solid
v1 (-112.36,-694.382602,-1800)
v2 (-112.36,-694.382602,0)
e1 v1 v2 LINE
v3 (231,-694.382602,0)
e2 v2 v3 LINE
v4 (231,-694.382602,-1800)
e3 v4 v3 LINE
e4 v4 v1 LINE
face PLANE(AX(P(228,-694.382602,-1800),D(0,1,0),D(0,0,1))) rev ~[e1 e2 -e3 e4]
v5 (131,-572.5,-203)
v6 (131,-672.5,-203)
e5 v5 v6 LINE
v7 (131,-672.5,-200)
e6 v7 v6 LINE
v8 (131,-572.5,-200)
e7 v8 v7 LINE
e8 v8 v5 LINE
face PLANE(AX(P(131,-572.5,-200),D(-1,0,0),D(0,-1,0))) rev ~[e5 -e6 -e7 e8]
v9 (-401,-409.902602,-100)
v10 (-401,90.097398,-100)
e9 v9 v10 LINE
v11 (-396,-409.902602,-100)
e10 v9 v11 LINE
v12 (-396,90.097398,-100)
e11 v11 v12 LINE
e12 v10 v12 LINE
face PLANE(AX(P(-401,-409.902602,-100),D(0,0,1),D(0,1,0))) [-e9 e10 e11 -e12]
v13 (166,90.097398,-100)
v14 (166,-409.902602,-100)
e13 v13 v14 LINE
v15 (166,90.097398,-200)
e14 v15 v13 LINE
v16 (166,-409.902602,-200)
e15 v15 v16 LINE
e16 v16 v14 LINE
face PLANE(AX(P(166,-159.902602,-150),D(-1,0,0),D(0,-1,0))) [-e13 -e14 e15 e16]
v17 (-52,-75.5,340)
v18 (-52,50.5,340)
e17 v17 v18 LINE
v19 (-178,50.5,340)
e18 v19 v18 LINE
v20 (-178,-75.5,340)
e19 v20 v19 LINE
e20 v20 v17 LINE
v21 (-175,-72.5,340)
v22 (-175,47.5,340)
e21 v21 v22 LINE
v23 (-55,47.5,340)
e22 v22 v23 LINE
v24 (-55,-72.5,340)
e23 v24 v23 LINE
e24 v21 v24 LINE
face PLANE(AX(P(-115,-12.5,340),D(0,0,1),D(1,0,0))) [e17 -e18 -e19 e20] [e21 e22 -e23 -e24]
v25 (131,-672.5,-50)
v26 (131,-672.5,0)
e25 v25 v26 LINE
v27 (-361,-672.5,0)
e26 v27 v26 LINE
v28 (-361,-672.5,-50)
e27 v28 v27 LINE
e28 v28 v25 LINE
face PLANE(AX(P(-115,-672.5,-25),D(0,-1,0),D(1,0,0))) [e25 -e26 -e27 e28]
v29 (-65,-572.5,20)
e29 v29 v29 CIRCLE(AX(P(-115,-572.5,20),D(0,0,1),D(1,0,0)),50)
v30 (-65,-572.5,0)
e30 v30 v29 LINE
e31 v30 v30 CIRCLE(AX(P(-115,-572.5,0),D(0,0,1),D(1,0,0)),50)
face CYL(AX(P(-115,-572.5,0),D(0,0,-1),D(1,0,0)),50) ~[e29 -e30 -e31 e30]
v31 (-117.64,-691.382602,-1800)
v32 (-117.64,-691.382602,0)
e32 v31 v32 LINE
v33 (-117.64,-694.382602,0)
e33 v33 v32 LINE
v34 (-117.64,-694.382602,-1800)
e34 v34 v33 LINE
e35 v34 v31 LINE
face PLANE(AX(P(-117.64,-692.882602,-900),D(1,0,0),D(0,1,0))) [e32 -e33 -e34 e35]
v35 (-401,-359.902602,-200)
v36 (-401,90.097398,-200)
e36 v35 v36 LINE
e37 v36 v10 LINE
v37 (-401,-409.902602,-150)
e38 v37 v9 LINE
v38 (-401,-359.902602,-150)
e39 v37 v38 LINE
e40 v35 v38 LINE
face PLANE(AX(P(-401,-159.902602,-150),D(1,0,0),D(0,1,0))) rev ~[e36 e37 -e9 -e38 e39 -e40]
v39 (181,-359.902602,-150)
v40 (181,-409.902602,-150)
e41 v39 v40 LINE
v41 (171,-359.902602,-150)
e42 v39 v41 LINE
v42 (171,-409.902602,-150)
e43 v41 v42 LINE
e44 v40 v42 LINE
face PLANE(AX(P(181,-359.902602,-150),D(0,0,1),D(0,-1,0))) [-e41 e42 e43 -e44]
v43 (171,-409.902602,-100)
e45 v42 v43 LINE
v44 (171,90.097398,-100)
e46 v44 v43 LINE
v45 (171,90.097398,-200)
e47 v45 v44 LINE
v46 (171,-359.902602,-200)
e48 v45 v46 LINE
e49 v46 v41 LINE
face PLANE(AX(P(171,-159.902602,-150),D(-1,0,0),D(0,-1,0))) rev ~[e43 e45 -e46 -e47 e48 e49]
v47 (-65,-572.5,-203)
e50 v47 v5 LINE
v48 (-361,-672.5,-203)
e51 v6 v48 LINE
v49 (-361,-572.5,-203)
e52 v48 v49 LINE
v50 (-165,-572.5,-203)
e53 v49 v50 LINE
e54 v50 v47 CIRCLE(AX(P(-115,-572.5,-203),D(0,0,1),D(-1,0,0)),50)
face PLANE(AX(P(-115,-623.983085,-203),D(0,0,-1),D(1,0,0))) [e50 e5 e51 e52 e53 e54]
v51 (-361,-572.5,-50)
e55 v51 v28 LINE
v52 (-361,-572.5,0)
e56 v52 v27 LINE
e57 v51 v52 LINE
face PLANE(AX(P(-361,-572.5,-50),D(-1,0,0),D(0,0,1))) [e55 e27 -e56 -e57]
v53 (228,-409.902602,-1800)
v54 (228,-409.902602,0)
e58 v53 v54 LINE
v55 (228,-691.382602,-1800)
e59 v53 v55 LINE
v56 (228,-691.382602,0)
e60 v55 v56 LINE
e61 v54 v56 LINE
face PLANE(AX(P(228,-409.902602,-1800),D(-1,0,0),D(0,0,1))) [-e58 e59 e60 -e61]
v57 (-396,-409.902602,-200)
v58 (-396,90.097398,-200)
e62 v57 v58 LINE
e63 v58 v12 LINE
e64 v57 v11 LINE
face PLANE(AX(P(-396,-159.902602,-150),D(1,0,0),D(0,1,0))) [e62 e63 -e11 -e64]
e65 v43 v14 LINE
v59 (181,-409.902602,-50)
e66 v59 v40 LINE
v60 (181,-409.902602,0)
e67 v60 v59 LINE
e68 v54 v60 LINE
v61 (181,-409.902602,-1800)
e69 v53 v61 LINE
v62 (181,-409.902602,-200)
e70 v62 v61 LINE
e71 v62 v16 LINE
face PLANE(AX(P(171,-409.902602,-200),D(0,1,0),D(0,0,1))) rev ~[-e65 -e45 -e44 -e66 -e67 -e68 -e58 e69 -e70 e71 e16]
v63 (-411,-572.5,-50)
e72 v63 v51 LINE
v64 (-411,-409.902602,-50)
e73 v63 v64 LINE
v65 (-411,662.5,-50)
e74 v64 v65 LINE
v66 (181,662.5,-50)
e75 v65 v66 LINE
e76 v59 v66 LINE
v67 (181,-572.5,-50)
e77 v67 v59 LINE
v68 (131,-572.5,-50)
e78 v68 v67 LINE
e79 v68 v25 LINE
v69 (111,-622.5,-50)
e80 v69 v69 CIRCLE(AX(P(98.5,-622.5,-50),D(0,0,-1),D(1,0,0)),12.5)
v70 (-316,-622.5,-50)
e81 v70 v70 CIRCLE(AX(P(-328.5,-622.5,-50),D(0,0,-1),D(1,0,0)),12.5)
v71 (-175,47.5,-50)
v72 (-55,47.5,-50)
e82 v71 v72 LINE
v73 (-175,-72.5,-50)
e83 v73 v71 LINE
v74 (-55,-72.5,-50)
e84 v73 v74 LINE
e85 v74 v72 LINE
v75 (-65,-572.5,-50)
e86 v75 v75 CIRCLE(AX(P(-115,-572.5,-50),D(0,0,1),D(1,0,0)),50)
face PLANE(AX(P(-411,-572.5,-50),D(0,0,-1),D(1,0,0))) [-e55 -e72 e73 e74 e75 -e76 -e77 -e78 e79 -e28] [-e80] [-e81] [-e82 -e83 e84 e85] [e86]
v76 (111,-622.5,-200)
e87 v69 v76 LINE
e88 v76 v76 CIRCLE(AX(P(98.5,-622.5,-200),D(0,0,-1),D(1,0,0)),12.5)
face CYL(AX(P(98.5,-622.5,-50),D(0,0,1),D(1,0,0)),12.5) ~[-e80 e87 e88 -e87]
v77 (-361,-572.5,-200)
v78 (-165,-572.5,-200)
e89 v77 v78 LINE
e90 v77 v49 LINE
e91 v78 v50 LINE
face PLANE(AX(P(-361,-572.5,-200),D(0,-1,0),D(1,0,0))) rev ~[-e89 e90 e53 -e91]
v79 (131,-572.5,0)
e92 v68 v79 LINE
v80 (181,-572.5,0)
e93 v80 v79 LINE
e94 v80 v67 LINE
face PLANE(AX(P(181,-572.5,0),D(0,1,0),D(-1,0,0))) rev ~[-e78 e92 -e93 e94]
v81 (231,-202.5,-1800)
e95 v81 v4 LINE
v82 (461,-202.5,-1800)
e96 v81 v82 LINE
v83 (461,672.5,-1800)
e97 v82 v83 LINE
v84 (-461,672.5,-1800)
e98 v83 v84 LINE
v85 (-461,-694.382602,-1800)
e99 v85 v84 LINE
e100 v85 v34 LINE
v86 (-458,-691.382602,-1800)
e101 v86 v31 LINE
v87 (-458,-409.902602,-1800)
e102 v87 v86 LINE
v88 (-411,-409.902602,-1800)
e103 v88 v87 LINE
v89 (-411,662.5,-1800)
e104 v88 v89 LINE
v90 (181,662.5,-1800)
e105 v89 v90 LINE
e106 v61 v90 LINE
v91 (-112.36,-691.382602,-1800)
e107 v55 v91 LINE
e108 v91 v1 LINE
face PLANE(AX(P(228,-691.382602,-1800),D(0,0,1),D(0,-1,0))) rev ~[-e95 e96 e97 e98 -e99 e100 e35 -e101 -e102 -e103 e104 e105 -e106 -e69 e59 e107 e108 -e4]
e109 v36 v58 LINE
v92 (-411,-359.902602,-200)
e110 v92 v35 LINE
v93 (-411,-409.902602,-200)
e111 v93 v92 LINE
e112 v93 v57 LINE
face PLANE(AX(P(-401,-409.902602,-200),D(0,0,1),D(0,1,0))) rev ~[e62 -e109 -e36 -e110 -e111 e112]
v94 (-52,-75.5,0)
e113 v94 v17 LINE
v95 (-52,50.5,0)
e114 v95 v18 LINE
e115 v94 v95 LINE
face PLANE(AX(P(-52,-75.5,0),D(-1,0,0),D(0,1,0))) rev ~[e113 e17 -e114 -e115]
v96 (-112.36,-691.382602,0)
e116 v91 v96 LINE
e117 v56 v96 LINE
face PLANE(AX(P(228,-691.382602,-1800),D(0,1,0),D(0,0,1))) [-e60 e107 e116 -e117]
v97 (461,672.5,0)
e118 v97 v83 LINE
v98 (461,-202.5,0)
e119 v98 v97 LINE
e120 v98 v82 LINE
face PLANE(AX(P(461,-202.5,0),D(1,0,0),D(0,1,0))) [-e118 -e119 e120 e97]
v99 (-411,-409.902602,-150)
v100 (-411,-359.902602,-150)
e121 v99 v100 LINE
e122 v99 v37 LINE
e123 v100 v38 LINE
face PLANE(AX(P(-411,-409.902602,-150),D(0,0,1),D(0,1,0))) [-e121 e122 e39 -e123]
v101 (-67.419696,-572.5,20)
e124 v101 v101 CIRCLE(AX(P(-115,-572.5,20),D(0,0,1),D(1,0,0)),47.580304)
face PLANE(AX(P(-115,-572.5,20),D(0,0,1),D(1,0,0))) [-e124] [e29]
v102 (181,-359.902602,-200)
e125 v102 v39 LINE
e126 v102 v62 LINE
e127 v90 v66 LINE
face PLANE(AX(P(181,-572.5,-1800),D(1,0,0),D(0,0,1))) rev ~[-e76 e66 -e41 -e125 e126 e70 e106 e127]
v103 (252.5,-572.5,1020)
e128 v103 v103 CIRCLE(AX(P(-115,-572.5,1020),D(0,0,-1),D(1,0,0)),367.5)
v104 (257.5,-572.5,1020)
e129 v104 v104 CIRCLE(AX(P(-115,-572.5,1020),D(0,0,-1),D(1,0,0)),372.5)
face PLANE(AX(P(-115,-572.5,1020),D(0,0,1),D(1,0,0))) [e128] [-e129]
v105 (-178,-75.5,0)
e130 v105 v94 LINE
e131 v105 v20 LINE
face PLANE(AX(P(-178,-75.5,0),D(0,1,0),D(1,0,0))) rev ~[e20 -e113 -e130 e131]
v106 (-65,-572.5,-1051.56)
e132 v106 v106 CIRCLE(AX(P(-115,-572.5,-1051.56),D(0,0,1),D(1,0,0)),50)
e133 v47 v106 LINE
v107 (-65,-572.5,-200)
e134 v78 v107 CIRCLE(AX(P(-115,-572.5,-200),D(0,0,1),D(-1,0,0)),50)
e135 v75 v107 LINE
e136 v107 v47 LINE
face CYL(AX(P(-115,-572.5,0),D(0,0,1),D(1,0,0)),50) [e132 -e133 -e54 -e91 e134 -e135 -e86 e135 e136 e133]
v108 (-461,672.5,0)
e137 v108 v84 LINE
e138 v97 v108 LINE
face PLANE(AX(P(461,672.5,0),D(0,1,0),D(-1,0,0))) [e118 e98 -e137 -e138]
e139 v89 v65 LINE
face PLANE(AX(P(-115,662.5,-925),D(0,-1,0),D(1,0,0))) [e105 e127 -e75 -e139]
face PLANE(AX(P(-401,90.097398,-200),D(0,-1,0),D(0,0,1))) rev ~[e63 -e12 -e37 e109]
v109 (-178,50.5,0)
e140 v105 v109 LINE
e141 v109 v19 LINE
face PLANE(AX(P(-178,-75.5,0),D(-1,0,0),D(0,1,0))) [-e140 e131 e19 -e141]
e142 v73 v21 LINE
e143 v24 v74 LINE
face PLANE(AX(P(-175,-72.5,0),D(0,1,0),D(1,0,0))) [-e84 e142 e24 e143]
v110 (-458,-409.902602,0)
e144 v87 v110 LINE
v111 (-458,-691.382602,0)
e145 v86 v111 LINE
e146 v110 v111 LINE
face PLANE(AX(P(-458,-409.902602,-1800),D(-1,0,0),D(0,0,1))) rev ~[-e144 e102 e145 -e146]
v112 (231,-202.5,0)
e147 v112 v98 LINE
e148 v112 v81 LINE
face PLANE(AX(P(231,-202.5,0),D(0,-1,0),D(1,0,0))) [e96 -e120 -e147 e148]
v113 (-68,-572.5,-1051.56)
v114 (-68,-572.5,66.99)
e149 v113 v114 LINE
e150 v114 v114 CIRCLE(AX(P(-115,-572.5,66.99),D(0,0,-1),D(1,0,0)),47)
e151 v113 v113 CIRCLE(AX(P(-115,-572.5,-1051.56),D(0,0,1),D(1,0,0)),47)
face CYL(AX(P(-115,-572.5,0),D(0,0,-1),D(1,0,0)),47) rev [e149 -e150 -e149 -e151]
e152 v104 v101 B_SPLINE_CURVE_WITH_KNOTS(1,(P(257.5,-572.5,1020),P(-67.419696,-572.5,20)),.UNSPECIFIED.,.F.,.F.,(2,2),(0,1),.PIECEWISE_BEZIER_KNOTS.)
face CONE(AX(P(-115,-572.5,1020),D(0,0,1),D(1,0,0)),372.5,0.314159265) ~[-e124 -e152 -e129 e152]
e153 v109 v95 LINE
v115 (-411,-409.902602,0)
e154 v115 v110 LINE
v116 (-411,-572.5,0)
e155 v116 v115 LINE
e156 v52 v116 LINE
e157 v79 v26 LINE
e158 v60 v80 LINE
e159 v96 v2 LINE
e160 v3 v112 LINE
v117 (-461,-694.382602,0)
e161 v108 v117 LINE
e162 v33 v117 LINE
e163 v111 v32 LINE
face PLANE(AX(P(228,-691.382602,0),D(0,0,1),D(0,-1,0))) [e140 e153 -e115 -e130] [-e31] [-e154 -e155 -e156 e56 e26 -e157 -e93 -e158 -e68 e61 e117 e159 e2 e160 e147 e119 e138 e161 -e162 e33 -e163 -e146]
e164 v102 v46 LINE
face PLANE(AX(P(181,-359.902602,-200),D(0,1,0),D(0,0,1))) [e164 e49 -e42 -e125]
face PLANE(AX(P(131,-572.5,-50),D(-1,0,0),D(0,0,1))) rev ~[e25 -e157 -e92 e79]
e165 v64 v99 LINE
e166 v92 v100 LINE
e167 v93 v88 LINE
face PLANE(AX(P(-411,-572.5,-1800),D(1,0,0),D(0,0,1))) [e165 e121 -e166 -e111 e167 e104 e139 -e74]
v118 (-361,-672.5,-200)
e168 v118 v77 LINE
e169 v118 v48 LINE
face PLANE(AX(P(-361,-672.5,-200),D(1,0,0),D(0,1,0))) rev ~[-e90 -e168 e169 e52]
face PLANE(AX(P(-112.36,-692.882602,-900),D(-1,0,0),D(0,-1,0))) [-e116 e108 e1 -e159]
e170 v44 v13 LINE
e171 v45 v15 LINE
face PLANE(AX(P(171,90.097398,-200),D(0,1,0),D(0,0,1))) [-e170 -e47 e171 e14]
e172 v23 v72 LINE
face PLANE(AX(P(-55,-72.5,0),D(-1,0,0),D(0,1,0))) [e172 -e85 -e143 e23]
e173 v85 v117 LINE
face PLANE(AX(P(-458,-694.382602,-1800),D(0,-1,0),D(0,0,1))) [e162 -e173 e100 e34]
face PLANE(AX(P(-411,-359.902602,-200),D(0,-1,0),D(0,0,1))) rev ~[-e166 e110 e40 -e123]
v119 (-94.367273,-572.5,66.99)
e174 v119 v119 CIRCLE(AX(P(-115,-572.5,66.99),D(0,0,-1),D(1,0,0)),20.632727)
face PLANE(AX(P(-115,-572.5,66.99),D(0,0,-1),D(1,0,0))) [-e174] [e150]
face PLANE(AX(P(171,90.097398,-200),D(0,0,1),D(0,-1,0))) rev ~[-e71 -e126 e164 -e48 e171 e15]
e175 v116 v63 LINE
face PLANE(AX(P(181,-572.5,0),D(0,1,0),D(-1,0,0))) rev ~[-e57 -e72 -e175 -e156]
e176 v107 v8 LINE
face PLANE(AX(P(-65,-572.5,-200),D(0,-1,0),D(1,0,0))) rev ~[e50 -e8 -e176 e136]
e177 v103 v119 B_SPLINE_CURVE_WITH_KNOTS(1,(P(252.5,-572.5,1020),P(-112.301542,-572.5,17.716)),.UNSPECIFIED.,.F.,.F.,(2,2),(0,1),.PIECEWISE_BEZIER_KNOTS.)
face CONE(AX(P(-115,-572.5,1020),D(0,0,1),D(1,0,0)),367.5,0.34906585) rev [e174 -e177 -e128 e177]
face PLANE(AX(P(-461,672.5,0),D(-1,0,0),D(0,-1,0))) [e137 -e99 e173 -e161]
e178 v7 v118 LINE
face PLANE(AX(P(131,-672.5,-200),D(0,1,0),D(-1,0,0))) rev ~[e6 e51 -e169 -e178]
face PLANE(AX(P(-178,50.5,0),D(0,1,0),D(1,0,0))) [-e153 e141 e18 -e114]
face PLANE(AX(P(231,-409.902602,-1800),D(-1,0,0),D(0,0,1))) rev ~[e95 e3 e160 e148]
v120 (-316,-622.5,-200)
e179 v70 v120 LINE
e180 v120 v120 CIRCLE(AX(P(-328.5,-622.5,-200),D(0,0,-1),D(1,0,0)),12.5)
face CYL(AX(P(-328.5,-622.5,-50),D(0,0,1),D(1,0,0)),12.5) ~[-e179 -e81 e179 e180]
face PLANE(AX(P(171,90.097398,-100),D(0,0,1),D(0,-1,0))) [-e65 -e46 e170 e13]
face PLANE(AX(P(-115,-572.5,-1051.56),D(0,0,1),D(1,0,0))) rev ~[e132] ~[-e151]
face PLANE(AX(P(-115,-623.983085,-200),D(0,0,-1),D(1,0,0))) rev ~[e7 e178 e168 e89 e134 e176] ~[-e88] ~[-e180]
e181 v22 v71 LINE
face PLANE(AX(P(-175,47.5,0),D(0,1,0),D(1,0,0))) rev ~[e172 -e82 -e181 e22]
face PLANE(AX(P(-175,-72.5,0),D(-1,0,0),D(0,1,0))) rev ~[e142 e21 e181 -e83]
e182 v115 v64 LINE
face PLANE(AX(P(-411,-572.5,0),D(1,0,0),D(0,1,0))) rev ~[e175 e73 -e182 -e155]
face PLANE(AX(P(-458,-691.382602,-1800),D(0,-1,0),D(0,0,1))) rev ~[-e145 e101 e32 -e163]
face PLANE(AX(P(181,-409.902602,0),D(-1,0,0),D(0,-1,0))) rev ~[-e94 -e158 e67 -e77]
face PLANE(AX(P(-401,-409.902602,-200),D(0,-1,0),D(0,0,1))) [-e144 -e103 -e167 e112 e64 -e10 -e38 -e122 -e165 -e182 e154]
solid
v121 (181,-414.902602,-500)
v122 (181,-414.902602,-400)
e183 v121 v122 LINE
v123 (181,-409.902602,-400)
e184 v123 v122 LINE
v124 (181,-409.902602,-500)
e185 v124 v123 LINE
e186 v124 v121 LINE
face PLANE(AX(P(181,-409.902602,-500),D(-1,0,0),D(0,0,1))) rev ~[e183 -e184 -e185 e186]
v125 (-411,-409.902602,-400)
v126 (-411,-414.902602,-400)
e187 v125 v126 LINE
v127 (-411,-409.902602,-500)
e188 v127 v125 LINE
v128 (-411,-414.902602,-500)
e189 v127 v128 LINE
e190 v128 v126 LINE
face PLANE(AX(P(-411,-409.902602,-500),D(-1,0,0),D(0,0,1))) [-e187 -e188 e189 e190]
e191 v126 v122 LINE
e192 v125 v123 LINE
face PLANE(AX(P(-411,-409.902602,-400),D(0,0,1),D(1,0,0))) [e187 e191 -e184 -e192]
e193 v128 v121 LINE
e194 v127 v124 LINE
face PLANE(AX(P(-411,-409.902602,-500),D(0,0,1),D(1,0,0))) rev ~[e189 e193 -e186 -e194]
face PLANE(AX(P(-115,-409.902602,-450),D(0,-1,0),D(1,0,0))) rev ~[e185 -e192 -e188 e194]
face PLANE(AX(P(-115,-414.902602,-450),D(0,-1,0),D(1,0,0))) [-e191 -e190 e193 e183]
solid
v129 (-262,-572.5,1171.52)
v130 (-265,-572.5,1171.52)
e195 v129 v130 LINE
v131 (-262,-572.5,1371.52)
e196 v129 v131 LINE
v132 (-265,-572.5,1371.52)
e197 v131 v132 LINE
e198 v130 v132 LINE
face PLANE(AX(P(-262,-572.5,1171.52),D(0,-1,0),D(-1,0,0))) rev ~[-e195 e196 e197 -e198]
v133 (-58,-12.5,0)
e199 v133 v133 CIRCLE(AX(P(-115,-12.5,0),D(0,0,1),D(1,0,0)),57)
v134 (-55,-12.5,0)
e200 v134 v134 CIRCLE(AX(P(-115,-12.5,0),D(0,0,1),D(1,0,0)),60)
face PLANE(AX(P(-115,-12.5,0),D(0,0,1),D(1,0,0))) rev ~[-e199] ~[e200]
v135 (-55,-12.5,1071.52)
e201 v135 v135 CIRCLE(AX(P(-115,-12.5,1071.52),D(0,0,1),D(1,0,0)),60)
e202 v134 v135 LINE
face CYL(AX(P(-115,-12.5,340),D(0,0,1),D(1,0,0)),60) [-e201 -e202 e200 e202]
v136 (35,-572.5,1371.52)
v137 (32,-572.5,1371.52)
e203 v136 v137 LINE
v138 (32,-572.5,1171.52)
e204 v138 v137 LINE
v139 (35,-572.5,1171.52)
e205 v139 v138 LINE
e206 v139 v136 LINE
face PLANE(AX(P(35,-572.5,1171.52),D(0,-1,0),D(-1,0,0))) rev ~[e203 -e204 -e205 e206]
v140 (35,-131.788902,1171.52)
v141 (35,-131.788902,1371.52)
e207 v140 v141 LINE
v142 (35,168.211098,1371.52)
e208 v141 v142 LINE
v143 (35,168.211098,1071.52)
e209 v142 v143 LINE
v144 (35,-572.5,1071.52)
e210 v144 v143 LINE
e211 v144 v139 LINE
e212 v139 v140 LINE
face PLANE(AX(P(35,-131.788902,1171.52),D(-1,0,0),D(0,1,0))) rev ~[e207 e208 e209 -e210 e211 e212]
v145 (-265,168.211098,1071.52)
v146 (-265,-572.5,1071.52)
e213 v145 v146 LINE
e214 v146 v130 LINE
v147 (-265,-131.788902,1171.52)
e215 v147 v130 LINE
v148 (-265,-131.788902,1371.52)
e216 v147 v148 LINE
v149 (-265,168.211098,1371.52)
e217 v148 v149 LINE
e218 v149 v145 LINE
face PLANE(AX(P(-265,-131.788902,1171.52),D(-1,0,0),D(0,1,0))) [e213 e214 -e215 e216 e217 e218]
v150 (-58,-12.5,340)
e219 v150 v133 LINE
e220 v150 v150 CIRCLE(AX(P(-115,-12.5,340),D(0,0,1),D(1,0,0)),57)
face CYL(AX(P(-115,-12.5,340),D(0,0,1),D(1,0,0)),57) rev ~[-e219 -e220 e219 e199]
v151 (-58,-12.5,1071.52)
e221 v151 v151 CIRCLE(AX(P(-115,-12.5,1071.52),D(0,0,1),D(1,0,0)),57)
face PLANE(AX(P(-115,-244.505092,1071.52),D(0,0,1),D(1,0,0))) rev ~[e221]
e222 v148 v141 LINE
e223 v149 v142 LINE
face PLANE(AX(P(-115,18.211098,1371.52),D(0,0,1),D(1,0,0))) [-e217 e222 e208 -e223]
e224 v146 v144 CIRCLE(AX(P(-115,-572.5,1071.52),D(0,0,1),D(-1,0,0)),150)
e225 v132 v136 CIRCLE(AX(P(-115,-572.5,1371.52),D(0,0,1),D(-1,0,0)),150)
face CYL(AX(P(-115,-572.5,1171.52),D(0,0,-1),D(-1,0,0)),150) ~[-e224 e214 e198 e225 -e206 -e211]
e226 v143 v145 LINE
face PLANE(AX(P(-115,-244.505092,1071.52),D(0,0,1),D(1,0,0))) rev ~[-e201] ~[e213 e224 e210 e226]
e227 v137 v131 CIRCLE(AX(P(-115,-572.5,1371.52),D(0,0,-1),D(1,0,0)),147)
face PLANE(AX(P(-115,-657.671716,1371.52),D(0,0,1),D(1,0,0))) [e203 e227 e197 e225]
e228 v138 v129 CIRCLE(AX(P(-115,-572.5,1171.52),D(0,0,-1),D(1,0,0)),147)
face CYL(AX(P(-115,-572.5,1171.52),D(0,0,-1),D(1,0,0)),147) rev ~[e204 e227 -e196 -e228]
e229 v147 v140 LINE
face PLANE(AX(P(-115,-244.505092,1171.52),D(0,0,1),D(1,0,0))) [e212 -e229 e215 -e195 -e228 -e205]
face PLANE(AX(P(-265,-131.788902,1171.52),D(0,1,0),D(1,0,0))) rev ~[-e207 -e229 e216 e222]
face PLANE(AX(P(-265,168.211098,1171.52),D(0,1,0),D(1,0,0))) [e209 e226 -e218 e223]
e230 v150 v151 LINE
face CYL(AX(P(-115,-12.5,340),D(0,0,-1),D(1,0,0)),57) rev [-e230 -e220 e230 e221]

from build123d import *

# Parameters (mm, degrees)
F0_W           = 692
F0_H           = 470
F1_DEPTH       = 1800
F3_DEPTH       = 1800
F4_W           = 592
F4_H           = 1750
F5_DEPTH       = 1235
F6_W           = 120
F6_H           = 120
F7_DEPTH       = 50
F8_W           = 126
F8_H           = 126
F8_W_2         = 120
F8_H_2         = 120
F9_DEPTH       = 340
F10_R          = 60
F10_R_2        = 57
F11_DEPTH      = 731.52
F11_DEPTH_BACK = 340
F12_W          = 492
F12_H          = 50
F13_DEPTH      = 100
F14_R          = 50
F15_DEPTH      = 50
F16_R          = 50
F16_R_2        = 47
F17_DEPTH      = 1051.56
F17_DEPTH_BACK = 20
F18_W          = 50
F18_H          = 50
F19_DEPTH      = 10
F20_W          = 50
F20_H          = 50
F21_DEPTH      = 10
F22_W          = 500
F22_H          = 100
F23_DEPTH      = 5
F24_W          = 500
F24_H          = 100
F25_DEPTH      = 5
F26_W          = 592
F26_H          = 100
F27_DEPTH      = 5
F28_R          = 12.5
F29_DEPTH      = 150
F31_DEPTH      = 3
F33_R          = 372.5
F34_DEPTH      = 1000
F34_TAPER      = 18
F35_R          = 367.5
F36_DEPTH      = 1002.284
F36_TAPER      = 20
F37_R          = 47
F38_DEPTH      = 46.99
F40_DEPTH      = 100
F41_W          = 300
F41_H          = 300
F42_DEPTH      = 200
F44_DEPTH      = 200
F46_W          = 3
F46_H          = 1800
F45_W          = 3
F45_H          = 1800
F47_DEPTH      = 284.48
F48_W          = 3
F48_H          = 1800
F49_DEPTH      = 340.36
F50_W          = 3
F50_H          = 1800
F51_DEPTH      = 340.36


with BuildPart() as f1:
    # F0 (on Top) → F1 (new body)
    with BuildSketch(Plane.XY):
        Polygon((-461, -202.5), (231, -202.5), (461, -202.5), (461, 672.5), (-461, 672.5), align=None)
        with Locations((-115, -437.5)):
            Rectangle(F0_W, F0_H)
    extrude(amount=-F1_DEPTH)

    # F2 (on face) → F3 (cut, through all)
    with BuildSketch(Plane.XY):
        Polygon((-411, -409.9026024342), (-461, -409.9026024342), (-461, -672.5), (231, -672.5), (231, -409.9026024342), (181, -409.9026024342), (181, -572.5), (-411, -572.5), align=None)
    extrude(amount=-F3_DEPTH, mode=Mode.SUBTRACT)

    # F4 (on face) → F5 (cut)
    with BuildSketch(Plane.XZ.offset(572.5)):
        with Locations((-115, -925)):
            Rectangle(F4_W, F4_H)
    extrude(amount=-F5_DEPTH, mode=Mode.SUBTRACT)

    # F6 (on face) → F7 (cut, through all)
    with BuildSketch(Plane.XY):
        with Locations((-115, -12.5)):
            Rectangle(F6_W, F6_H)
    extrude(amount=-F7_DEPTH, mode=Mode.SUBTRACT)

    # F8 (on face) → F9 (join)
    with BuildSketch(Plane.XY):
        with Locations((-115, -12.5)):
            Rectangle(F8_W, F8_H)
        with Locations((-115, -12.5)):
            Rectangle(F8_W_2, F8_H_2, mode=Mode.SUBTRACT)
    extrude(amount=F9_DEPTH)

    # F12 (on face) → F13 (join)
    with BuildSketch(Plane.XZ.offset(572.5)):
        with Locations((-115, -25)):
            Rectangle(F12_W, F12_H)
    extrude(amount=F13_DEPTH)

    # F14 (on face) → F15 (cut, through all)
    with BuildSketch(Plane.XY):
        with Locations((-115, -572.5)):
            Circle(F14_R)
    extrude(amount=-F15_DEPTH, mode=Mode.SUBTRACT)

    # F16 (on face) → F17 (join, two sides)
    with BuildSketch(Plane.XY) as f17_sk:
        with Locations((-115, -572.5)):
            Circle(F16_R)
        with Locations((-115, -572.5)):
            Circle(F16_R_2, mode=Mode.SUBTRACT)
    extrude(amount=-F17_DEPTH)
    extrude(f17_sk.sketch, amount=F17_DEPTH_BACK)

    # F18 (on face) → F19 (join)
    with BuildSketch(Plane.YZ.offset(-411)):
        with Locations((-384.9026024342, -175)):
            Rectangle(F18_W, F18_H)
    extrude(amount=F19_DEPTH)

    # F20 (on face) → F21 (join)
    with BuildSketch(Plane(origin=(181, 0, 0), x_dir=(0, -1, 0), z_dir=(-1, 0, 0))):
        with Locations((384.9026024342, -175)):
            Rectangle(F20_W, F20_H)
    extrude(amount=F21_DEPTH)

    # F22 (on face) → F23 (join)
    with BuildSketch(Plane.YZ.offset(-401)):
        with Locations((-159.9026024342, -150)):
            Rectangle(F22_W, F22_H)
    extrude(amount=F23_DEPTH)

    # F24 (on face) → F25 (join)
    with BuildSketch(Plane(origin=(171, 0, 0), x_dir=(0, -1, 0), z_dir=(-1, 0, 0))):
        with Locations((159.9026024342, -150)):
            Rectangle(F24_W, F24_H)
    extrude(amount=F25_DEPTH)

    # F28 (on face) → F29 (join)
    with BuildSketch(Plane(origin=(0, 0, -50), x_dir=(1, 0, 0), z_dir=(0, 0, -1))):
        with Locations((-328.5, 622.5)):
            Circle(F28_R)
        with Locations((98.5, 622.5)):
            Circle(F28_R)
    extrude(amount=F29_DEPTH)

    # F30 (on face) → F31 (join)
    with BuildSketch(Plane(origin=(0, 0, -200), x_dir=(1, 0, 0), z_dir=(0, 0, -1))):
        with BuildLine():
            Line((131, 672.5), (-361, 672.5))
            Line((-361, 672.5), (-361, 572.5))
            Line((-361, 572.5), (-165, 572.5))
            ThreePointArc((-165, 572.5), (-115, 622.5), (-65, 572.5))
            Line((-65, 572.5), (131, 572.5))
            Line((131, 572.5), (131, 672.5))
        make_face()
    extrude(amount=F31_DEPTH)

    # F33 (on offset) → F34 (join, through all)
    with BuildSketch(Plane.XY.offset(1020)):
        with Locations((-115, -572.5)):
            Circle(F33_R)
    extrude(amount=-F34_DEPTH, taper=F34_TAPER)

    # F35 (on face) → F36 (cut)
    with BuildSketch(Plane.XY.offset(1020)):
        with Locations((-115, -572.5)):
            Circle(F35_R)
    extrude(amount=-F36_DEPTH, taper=F36_TAPER, mode=Mode.SUBTRACT)

    # F37 (on face) → F38 (cut)
    with BuildSketch(Plane(origin=(0, 0, 20), x_dir=(1, 0, 0), z_dir=(0, 0, -1))):
        with Locations((-115, 572.5)):
            Circle(F37_R)
    extrude(amount=-F38_DEPTH, mode=Mode.SUBTRACT)

    # F46 (on face) + F45 (on face) → F47 (join)
    with BuildSketch(Plane.XZ.offset(409.9026024342)):
        with Locations((229.5, -900)):
            Rectangle(F46_W, F46_H)
    with BuildSketch(Plane.XZ.offset(409.9026024342)):
        with Locations((-459.5, -900)):
            Rectangle(F45_W, F45_H)
    extrude(amount=F47_DEPTH)

    # F48 (on face) → F49 (join)
    with BuildSketch(Plane.YZ.offset(-458)):
        with Locations((-692.8826024342, -900)):
            Rectangle(F48_W, F48_H)
    extrude(amount=F49_DEPTH)

    # F50 (on face) → F51 (join)
    with BuildSketch(Plane(origin=(228, 0, 0), x_dir=(0, -1, 0), z_dir=(-1, 0, 0))):
        with Locations((692.8826024342, -900)):
            Rectangle(F50_W, F50_H)
    extrude(amount=F51_DEPTH)


with BuildPart() as f11:
    # F10 (on face) → F11 (new body, two sides)
    with BuildSketch(Plane.XY.offset(340)) as f11_sk:
        with Locations((-115, -12.5)):
            Circle(F10_R)
        with Locations((-115, -12.5)):
            Circle(F10_R_2, mode=Mode.SUBTRACT)
    extrude(amount=F11_DEPTH)
    extrude(f11_sk.sketch, amount=-F11_DEPTH_BACK)

    # F39 (on face) → F40 (join)
    with BuildSketch(Plane.XY.offset(1071.52)):
        with BuildLine():
            Line((35, 168.2110980594), (-265, 168.2110980594))
            Line((-265, 168.2110980594), (-265, -231.7889019406))
            Line((-265, -231.7889019406), (-265, -572.5))
            ThreePointArc((-265, -572.5), (-115, -722.5), (35, -572.5))
            Line((35, -572.5), (35, -231.7889019406))
            Line((35, -231.7889019406), (35, 168.2110980594))
        make_face()
    extrude(amount=F40_DEPTH)

    # F41 (on face) → F42 (join)
    with BuildSketch(Plane.XY.offset(1171.52)):
        with Locations((-115, 18.2110980594)):
            Rectangle(F41_W, F41_H)
    extrude(amount=F42_DEPTH)

    # F43 (on face) → F44 (join)
    with BuildSketch(Plane.XY.offset(1171.52)):
        with BuildLine():
            Line((-262, -572.5), (-265, -572.5))
            ThreePointArc((-265, -572.5), (-115, -722.5), (35, -572.5))
            Line((35, -572.5), (32, -572.5))
            ThreePointArc((32, -572.5), (-115, -719.5), (-262, -572.5))
        make_face()
    extrude(amount=F44_DEPTH)


with BuildPart() as f27:
    # F26 (on face) → F27 (new body)
    with BuildSketch(Plane.XZ.offset(409.9026024342)):
        with Locations((-115, -450)):
            Rectangle(F26_W, F26_H)
    extrude(amount=F27_DEPTH)


solid = Compound([f1.part, f11.part, f27.part])
